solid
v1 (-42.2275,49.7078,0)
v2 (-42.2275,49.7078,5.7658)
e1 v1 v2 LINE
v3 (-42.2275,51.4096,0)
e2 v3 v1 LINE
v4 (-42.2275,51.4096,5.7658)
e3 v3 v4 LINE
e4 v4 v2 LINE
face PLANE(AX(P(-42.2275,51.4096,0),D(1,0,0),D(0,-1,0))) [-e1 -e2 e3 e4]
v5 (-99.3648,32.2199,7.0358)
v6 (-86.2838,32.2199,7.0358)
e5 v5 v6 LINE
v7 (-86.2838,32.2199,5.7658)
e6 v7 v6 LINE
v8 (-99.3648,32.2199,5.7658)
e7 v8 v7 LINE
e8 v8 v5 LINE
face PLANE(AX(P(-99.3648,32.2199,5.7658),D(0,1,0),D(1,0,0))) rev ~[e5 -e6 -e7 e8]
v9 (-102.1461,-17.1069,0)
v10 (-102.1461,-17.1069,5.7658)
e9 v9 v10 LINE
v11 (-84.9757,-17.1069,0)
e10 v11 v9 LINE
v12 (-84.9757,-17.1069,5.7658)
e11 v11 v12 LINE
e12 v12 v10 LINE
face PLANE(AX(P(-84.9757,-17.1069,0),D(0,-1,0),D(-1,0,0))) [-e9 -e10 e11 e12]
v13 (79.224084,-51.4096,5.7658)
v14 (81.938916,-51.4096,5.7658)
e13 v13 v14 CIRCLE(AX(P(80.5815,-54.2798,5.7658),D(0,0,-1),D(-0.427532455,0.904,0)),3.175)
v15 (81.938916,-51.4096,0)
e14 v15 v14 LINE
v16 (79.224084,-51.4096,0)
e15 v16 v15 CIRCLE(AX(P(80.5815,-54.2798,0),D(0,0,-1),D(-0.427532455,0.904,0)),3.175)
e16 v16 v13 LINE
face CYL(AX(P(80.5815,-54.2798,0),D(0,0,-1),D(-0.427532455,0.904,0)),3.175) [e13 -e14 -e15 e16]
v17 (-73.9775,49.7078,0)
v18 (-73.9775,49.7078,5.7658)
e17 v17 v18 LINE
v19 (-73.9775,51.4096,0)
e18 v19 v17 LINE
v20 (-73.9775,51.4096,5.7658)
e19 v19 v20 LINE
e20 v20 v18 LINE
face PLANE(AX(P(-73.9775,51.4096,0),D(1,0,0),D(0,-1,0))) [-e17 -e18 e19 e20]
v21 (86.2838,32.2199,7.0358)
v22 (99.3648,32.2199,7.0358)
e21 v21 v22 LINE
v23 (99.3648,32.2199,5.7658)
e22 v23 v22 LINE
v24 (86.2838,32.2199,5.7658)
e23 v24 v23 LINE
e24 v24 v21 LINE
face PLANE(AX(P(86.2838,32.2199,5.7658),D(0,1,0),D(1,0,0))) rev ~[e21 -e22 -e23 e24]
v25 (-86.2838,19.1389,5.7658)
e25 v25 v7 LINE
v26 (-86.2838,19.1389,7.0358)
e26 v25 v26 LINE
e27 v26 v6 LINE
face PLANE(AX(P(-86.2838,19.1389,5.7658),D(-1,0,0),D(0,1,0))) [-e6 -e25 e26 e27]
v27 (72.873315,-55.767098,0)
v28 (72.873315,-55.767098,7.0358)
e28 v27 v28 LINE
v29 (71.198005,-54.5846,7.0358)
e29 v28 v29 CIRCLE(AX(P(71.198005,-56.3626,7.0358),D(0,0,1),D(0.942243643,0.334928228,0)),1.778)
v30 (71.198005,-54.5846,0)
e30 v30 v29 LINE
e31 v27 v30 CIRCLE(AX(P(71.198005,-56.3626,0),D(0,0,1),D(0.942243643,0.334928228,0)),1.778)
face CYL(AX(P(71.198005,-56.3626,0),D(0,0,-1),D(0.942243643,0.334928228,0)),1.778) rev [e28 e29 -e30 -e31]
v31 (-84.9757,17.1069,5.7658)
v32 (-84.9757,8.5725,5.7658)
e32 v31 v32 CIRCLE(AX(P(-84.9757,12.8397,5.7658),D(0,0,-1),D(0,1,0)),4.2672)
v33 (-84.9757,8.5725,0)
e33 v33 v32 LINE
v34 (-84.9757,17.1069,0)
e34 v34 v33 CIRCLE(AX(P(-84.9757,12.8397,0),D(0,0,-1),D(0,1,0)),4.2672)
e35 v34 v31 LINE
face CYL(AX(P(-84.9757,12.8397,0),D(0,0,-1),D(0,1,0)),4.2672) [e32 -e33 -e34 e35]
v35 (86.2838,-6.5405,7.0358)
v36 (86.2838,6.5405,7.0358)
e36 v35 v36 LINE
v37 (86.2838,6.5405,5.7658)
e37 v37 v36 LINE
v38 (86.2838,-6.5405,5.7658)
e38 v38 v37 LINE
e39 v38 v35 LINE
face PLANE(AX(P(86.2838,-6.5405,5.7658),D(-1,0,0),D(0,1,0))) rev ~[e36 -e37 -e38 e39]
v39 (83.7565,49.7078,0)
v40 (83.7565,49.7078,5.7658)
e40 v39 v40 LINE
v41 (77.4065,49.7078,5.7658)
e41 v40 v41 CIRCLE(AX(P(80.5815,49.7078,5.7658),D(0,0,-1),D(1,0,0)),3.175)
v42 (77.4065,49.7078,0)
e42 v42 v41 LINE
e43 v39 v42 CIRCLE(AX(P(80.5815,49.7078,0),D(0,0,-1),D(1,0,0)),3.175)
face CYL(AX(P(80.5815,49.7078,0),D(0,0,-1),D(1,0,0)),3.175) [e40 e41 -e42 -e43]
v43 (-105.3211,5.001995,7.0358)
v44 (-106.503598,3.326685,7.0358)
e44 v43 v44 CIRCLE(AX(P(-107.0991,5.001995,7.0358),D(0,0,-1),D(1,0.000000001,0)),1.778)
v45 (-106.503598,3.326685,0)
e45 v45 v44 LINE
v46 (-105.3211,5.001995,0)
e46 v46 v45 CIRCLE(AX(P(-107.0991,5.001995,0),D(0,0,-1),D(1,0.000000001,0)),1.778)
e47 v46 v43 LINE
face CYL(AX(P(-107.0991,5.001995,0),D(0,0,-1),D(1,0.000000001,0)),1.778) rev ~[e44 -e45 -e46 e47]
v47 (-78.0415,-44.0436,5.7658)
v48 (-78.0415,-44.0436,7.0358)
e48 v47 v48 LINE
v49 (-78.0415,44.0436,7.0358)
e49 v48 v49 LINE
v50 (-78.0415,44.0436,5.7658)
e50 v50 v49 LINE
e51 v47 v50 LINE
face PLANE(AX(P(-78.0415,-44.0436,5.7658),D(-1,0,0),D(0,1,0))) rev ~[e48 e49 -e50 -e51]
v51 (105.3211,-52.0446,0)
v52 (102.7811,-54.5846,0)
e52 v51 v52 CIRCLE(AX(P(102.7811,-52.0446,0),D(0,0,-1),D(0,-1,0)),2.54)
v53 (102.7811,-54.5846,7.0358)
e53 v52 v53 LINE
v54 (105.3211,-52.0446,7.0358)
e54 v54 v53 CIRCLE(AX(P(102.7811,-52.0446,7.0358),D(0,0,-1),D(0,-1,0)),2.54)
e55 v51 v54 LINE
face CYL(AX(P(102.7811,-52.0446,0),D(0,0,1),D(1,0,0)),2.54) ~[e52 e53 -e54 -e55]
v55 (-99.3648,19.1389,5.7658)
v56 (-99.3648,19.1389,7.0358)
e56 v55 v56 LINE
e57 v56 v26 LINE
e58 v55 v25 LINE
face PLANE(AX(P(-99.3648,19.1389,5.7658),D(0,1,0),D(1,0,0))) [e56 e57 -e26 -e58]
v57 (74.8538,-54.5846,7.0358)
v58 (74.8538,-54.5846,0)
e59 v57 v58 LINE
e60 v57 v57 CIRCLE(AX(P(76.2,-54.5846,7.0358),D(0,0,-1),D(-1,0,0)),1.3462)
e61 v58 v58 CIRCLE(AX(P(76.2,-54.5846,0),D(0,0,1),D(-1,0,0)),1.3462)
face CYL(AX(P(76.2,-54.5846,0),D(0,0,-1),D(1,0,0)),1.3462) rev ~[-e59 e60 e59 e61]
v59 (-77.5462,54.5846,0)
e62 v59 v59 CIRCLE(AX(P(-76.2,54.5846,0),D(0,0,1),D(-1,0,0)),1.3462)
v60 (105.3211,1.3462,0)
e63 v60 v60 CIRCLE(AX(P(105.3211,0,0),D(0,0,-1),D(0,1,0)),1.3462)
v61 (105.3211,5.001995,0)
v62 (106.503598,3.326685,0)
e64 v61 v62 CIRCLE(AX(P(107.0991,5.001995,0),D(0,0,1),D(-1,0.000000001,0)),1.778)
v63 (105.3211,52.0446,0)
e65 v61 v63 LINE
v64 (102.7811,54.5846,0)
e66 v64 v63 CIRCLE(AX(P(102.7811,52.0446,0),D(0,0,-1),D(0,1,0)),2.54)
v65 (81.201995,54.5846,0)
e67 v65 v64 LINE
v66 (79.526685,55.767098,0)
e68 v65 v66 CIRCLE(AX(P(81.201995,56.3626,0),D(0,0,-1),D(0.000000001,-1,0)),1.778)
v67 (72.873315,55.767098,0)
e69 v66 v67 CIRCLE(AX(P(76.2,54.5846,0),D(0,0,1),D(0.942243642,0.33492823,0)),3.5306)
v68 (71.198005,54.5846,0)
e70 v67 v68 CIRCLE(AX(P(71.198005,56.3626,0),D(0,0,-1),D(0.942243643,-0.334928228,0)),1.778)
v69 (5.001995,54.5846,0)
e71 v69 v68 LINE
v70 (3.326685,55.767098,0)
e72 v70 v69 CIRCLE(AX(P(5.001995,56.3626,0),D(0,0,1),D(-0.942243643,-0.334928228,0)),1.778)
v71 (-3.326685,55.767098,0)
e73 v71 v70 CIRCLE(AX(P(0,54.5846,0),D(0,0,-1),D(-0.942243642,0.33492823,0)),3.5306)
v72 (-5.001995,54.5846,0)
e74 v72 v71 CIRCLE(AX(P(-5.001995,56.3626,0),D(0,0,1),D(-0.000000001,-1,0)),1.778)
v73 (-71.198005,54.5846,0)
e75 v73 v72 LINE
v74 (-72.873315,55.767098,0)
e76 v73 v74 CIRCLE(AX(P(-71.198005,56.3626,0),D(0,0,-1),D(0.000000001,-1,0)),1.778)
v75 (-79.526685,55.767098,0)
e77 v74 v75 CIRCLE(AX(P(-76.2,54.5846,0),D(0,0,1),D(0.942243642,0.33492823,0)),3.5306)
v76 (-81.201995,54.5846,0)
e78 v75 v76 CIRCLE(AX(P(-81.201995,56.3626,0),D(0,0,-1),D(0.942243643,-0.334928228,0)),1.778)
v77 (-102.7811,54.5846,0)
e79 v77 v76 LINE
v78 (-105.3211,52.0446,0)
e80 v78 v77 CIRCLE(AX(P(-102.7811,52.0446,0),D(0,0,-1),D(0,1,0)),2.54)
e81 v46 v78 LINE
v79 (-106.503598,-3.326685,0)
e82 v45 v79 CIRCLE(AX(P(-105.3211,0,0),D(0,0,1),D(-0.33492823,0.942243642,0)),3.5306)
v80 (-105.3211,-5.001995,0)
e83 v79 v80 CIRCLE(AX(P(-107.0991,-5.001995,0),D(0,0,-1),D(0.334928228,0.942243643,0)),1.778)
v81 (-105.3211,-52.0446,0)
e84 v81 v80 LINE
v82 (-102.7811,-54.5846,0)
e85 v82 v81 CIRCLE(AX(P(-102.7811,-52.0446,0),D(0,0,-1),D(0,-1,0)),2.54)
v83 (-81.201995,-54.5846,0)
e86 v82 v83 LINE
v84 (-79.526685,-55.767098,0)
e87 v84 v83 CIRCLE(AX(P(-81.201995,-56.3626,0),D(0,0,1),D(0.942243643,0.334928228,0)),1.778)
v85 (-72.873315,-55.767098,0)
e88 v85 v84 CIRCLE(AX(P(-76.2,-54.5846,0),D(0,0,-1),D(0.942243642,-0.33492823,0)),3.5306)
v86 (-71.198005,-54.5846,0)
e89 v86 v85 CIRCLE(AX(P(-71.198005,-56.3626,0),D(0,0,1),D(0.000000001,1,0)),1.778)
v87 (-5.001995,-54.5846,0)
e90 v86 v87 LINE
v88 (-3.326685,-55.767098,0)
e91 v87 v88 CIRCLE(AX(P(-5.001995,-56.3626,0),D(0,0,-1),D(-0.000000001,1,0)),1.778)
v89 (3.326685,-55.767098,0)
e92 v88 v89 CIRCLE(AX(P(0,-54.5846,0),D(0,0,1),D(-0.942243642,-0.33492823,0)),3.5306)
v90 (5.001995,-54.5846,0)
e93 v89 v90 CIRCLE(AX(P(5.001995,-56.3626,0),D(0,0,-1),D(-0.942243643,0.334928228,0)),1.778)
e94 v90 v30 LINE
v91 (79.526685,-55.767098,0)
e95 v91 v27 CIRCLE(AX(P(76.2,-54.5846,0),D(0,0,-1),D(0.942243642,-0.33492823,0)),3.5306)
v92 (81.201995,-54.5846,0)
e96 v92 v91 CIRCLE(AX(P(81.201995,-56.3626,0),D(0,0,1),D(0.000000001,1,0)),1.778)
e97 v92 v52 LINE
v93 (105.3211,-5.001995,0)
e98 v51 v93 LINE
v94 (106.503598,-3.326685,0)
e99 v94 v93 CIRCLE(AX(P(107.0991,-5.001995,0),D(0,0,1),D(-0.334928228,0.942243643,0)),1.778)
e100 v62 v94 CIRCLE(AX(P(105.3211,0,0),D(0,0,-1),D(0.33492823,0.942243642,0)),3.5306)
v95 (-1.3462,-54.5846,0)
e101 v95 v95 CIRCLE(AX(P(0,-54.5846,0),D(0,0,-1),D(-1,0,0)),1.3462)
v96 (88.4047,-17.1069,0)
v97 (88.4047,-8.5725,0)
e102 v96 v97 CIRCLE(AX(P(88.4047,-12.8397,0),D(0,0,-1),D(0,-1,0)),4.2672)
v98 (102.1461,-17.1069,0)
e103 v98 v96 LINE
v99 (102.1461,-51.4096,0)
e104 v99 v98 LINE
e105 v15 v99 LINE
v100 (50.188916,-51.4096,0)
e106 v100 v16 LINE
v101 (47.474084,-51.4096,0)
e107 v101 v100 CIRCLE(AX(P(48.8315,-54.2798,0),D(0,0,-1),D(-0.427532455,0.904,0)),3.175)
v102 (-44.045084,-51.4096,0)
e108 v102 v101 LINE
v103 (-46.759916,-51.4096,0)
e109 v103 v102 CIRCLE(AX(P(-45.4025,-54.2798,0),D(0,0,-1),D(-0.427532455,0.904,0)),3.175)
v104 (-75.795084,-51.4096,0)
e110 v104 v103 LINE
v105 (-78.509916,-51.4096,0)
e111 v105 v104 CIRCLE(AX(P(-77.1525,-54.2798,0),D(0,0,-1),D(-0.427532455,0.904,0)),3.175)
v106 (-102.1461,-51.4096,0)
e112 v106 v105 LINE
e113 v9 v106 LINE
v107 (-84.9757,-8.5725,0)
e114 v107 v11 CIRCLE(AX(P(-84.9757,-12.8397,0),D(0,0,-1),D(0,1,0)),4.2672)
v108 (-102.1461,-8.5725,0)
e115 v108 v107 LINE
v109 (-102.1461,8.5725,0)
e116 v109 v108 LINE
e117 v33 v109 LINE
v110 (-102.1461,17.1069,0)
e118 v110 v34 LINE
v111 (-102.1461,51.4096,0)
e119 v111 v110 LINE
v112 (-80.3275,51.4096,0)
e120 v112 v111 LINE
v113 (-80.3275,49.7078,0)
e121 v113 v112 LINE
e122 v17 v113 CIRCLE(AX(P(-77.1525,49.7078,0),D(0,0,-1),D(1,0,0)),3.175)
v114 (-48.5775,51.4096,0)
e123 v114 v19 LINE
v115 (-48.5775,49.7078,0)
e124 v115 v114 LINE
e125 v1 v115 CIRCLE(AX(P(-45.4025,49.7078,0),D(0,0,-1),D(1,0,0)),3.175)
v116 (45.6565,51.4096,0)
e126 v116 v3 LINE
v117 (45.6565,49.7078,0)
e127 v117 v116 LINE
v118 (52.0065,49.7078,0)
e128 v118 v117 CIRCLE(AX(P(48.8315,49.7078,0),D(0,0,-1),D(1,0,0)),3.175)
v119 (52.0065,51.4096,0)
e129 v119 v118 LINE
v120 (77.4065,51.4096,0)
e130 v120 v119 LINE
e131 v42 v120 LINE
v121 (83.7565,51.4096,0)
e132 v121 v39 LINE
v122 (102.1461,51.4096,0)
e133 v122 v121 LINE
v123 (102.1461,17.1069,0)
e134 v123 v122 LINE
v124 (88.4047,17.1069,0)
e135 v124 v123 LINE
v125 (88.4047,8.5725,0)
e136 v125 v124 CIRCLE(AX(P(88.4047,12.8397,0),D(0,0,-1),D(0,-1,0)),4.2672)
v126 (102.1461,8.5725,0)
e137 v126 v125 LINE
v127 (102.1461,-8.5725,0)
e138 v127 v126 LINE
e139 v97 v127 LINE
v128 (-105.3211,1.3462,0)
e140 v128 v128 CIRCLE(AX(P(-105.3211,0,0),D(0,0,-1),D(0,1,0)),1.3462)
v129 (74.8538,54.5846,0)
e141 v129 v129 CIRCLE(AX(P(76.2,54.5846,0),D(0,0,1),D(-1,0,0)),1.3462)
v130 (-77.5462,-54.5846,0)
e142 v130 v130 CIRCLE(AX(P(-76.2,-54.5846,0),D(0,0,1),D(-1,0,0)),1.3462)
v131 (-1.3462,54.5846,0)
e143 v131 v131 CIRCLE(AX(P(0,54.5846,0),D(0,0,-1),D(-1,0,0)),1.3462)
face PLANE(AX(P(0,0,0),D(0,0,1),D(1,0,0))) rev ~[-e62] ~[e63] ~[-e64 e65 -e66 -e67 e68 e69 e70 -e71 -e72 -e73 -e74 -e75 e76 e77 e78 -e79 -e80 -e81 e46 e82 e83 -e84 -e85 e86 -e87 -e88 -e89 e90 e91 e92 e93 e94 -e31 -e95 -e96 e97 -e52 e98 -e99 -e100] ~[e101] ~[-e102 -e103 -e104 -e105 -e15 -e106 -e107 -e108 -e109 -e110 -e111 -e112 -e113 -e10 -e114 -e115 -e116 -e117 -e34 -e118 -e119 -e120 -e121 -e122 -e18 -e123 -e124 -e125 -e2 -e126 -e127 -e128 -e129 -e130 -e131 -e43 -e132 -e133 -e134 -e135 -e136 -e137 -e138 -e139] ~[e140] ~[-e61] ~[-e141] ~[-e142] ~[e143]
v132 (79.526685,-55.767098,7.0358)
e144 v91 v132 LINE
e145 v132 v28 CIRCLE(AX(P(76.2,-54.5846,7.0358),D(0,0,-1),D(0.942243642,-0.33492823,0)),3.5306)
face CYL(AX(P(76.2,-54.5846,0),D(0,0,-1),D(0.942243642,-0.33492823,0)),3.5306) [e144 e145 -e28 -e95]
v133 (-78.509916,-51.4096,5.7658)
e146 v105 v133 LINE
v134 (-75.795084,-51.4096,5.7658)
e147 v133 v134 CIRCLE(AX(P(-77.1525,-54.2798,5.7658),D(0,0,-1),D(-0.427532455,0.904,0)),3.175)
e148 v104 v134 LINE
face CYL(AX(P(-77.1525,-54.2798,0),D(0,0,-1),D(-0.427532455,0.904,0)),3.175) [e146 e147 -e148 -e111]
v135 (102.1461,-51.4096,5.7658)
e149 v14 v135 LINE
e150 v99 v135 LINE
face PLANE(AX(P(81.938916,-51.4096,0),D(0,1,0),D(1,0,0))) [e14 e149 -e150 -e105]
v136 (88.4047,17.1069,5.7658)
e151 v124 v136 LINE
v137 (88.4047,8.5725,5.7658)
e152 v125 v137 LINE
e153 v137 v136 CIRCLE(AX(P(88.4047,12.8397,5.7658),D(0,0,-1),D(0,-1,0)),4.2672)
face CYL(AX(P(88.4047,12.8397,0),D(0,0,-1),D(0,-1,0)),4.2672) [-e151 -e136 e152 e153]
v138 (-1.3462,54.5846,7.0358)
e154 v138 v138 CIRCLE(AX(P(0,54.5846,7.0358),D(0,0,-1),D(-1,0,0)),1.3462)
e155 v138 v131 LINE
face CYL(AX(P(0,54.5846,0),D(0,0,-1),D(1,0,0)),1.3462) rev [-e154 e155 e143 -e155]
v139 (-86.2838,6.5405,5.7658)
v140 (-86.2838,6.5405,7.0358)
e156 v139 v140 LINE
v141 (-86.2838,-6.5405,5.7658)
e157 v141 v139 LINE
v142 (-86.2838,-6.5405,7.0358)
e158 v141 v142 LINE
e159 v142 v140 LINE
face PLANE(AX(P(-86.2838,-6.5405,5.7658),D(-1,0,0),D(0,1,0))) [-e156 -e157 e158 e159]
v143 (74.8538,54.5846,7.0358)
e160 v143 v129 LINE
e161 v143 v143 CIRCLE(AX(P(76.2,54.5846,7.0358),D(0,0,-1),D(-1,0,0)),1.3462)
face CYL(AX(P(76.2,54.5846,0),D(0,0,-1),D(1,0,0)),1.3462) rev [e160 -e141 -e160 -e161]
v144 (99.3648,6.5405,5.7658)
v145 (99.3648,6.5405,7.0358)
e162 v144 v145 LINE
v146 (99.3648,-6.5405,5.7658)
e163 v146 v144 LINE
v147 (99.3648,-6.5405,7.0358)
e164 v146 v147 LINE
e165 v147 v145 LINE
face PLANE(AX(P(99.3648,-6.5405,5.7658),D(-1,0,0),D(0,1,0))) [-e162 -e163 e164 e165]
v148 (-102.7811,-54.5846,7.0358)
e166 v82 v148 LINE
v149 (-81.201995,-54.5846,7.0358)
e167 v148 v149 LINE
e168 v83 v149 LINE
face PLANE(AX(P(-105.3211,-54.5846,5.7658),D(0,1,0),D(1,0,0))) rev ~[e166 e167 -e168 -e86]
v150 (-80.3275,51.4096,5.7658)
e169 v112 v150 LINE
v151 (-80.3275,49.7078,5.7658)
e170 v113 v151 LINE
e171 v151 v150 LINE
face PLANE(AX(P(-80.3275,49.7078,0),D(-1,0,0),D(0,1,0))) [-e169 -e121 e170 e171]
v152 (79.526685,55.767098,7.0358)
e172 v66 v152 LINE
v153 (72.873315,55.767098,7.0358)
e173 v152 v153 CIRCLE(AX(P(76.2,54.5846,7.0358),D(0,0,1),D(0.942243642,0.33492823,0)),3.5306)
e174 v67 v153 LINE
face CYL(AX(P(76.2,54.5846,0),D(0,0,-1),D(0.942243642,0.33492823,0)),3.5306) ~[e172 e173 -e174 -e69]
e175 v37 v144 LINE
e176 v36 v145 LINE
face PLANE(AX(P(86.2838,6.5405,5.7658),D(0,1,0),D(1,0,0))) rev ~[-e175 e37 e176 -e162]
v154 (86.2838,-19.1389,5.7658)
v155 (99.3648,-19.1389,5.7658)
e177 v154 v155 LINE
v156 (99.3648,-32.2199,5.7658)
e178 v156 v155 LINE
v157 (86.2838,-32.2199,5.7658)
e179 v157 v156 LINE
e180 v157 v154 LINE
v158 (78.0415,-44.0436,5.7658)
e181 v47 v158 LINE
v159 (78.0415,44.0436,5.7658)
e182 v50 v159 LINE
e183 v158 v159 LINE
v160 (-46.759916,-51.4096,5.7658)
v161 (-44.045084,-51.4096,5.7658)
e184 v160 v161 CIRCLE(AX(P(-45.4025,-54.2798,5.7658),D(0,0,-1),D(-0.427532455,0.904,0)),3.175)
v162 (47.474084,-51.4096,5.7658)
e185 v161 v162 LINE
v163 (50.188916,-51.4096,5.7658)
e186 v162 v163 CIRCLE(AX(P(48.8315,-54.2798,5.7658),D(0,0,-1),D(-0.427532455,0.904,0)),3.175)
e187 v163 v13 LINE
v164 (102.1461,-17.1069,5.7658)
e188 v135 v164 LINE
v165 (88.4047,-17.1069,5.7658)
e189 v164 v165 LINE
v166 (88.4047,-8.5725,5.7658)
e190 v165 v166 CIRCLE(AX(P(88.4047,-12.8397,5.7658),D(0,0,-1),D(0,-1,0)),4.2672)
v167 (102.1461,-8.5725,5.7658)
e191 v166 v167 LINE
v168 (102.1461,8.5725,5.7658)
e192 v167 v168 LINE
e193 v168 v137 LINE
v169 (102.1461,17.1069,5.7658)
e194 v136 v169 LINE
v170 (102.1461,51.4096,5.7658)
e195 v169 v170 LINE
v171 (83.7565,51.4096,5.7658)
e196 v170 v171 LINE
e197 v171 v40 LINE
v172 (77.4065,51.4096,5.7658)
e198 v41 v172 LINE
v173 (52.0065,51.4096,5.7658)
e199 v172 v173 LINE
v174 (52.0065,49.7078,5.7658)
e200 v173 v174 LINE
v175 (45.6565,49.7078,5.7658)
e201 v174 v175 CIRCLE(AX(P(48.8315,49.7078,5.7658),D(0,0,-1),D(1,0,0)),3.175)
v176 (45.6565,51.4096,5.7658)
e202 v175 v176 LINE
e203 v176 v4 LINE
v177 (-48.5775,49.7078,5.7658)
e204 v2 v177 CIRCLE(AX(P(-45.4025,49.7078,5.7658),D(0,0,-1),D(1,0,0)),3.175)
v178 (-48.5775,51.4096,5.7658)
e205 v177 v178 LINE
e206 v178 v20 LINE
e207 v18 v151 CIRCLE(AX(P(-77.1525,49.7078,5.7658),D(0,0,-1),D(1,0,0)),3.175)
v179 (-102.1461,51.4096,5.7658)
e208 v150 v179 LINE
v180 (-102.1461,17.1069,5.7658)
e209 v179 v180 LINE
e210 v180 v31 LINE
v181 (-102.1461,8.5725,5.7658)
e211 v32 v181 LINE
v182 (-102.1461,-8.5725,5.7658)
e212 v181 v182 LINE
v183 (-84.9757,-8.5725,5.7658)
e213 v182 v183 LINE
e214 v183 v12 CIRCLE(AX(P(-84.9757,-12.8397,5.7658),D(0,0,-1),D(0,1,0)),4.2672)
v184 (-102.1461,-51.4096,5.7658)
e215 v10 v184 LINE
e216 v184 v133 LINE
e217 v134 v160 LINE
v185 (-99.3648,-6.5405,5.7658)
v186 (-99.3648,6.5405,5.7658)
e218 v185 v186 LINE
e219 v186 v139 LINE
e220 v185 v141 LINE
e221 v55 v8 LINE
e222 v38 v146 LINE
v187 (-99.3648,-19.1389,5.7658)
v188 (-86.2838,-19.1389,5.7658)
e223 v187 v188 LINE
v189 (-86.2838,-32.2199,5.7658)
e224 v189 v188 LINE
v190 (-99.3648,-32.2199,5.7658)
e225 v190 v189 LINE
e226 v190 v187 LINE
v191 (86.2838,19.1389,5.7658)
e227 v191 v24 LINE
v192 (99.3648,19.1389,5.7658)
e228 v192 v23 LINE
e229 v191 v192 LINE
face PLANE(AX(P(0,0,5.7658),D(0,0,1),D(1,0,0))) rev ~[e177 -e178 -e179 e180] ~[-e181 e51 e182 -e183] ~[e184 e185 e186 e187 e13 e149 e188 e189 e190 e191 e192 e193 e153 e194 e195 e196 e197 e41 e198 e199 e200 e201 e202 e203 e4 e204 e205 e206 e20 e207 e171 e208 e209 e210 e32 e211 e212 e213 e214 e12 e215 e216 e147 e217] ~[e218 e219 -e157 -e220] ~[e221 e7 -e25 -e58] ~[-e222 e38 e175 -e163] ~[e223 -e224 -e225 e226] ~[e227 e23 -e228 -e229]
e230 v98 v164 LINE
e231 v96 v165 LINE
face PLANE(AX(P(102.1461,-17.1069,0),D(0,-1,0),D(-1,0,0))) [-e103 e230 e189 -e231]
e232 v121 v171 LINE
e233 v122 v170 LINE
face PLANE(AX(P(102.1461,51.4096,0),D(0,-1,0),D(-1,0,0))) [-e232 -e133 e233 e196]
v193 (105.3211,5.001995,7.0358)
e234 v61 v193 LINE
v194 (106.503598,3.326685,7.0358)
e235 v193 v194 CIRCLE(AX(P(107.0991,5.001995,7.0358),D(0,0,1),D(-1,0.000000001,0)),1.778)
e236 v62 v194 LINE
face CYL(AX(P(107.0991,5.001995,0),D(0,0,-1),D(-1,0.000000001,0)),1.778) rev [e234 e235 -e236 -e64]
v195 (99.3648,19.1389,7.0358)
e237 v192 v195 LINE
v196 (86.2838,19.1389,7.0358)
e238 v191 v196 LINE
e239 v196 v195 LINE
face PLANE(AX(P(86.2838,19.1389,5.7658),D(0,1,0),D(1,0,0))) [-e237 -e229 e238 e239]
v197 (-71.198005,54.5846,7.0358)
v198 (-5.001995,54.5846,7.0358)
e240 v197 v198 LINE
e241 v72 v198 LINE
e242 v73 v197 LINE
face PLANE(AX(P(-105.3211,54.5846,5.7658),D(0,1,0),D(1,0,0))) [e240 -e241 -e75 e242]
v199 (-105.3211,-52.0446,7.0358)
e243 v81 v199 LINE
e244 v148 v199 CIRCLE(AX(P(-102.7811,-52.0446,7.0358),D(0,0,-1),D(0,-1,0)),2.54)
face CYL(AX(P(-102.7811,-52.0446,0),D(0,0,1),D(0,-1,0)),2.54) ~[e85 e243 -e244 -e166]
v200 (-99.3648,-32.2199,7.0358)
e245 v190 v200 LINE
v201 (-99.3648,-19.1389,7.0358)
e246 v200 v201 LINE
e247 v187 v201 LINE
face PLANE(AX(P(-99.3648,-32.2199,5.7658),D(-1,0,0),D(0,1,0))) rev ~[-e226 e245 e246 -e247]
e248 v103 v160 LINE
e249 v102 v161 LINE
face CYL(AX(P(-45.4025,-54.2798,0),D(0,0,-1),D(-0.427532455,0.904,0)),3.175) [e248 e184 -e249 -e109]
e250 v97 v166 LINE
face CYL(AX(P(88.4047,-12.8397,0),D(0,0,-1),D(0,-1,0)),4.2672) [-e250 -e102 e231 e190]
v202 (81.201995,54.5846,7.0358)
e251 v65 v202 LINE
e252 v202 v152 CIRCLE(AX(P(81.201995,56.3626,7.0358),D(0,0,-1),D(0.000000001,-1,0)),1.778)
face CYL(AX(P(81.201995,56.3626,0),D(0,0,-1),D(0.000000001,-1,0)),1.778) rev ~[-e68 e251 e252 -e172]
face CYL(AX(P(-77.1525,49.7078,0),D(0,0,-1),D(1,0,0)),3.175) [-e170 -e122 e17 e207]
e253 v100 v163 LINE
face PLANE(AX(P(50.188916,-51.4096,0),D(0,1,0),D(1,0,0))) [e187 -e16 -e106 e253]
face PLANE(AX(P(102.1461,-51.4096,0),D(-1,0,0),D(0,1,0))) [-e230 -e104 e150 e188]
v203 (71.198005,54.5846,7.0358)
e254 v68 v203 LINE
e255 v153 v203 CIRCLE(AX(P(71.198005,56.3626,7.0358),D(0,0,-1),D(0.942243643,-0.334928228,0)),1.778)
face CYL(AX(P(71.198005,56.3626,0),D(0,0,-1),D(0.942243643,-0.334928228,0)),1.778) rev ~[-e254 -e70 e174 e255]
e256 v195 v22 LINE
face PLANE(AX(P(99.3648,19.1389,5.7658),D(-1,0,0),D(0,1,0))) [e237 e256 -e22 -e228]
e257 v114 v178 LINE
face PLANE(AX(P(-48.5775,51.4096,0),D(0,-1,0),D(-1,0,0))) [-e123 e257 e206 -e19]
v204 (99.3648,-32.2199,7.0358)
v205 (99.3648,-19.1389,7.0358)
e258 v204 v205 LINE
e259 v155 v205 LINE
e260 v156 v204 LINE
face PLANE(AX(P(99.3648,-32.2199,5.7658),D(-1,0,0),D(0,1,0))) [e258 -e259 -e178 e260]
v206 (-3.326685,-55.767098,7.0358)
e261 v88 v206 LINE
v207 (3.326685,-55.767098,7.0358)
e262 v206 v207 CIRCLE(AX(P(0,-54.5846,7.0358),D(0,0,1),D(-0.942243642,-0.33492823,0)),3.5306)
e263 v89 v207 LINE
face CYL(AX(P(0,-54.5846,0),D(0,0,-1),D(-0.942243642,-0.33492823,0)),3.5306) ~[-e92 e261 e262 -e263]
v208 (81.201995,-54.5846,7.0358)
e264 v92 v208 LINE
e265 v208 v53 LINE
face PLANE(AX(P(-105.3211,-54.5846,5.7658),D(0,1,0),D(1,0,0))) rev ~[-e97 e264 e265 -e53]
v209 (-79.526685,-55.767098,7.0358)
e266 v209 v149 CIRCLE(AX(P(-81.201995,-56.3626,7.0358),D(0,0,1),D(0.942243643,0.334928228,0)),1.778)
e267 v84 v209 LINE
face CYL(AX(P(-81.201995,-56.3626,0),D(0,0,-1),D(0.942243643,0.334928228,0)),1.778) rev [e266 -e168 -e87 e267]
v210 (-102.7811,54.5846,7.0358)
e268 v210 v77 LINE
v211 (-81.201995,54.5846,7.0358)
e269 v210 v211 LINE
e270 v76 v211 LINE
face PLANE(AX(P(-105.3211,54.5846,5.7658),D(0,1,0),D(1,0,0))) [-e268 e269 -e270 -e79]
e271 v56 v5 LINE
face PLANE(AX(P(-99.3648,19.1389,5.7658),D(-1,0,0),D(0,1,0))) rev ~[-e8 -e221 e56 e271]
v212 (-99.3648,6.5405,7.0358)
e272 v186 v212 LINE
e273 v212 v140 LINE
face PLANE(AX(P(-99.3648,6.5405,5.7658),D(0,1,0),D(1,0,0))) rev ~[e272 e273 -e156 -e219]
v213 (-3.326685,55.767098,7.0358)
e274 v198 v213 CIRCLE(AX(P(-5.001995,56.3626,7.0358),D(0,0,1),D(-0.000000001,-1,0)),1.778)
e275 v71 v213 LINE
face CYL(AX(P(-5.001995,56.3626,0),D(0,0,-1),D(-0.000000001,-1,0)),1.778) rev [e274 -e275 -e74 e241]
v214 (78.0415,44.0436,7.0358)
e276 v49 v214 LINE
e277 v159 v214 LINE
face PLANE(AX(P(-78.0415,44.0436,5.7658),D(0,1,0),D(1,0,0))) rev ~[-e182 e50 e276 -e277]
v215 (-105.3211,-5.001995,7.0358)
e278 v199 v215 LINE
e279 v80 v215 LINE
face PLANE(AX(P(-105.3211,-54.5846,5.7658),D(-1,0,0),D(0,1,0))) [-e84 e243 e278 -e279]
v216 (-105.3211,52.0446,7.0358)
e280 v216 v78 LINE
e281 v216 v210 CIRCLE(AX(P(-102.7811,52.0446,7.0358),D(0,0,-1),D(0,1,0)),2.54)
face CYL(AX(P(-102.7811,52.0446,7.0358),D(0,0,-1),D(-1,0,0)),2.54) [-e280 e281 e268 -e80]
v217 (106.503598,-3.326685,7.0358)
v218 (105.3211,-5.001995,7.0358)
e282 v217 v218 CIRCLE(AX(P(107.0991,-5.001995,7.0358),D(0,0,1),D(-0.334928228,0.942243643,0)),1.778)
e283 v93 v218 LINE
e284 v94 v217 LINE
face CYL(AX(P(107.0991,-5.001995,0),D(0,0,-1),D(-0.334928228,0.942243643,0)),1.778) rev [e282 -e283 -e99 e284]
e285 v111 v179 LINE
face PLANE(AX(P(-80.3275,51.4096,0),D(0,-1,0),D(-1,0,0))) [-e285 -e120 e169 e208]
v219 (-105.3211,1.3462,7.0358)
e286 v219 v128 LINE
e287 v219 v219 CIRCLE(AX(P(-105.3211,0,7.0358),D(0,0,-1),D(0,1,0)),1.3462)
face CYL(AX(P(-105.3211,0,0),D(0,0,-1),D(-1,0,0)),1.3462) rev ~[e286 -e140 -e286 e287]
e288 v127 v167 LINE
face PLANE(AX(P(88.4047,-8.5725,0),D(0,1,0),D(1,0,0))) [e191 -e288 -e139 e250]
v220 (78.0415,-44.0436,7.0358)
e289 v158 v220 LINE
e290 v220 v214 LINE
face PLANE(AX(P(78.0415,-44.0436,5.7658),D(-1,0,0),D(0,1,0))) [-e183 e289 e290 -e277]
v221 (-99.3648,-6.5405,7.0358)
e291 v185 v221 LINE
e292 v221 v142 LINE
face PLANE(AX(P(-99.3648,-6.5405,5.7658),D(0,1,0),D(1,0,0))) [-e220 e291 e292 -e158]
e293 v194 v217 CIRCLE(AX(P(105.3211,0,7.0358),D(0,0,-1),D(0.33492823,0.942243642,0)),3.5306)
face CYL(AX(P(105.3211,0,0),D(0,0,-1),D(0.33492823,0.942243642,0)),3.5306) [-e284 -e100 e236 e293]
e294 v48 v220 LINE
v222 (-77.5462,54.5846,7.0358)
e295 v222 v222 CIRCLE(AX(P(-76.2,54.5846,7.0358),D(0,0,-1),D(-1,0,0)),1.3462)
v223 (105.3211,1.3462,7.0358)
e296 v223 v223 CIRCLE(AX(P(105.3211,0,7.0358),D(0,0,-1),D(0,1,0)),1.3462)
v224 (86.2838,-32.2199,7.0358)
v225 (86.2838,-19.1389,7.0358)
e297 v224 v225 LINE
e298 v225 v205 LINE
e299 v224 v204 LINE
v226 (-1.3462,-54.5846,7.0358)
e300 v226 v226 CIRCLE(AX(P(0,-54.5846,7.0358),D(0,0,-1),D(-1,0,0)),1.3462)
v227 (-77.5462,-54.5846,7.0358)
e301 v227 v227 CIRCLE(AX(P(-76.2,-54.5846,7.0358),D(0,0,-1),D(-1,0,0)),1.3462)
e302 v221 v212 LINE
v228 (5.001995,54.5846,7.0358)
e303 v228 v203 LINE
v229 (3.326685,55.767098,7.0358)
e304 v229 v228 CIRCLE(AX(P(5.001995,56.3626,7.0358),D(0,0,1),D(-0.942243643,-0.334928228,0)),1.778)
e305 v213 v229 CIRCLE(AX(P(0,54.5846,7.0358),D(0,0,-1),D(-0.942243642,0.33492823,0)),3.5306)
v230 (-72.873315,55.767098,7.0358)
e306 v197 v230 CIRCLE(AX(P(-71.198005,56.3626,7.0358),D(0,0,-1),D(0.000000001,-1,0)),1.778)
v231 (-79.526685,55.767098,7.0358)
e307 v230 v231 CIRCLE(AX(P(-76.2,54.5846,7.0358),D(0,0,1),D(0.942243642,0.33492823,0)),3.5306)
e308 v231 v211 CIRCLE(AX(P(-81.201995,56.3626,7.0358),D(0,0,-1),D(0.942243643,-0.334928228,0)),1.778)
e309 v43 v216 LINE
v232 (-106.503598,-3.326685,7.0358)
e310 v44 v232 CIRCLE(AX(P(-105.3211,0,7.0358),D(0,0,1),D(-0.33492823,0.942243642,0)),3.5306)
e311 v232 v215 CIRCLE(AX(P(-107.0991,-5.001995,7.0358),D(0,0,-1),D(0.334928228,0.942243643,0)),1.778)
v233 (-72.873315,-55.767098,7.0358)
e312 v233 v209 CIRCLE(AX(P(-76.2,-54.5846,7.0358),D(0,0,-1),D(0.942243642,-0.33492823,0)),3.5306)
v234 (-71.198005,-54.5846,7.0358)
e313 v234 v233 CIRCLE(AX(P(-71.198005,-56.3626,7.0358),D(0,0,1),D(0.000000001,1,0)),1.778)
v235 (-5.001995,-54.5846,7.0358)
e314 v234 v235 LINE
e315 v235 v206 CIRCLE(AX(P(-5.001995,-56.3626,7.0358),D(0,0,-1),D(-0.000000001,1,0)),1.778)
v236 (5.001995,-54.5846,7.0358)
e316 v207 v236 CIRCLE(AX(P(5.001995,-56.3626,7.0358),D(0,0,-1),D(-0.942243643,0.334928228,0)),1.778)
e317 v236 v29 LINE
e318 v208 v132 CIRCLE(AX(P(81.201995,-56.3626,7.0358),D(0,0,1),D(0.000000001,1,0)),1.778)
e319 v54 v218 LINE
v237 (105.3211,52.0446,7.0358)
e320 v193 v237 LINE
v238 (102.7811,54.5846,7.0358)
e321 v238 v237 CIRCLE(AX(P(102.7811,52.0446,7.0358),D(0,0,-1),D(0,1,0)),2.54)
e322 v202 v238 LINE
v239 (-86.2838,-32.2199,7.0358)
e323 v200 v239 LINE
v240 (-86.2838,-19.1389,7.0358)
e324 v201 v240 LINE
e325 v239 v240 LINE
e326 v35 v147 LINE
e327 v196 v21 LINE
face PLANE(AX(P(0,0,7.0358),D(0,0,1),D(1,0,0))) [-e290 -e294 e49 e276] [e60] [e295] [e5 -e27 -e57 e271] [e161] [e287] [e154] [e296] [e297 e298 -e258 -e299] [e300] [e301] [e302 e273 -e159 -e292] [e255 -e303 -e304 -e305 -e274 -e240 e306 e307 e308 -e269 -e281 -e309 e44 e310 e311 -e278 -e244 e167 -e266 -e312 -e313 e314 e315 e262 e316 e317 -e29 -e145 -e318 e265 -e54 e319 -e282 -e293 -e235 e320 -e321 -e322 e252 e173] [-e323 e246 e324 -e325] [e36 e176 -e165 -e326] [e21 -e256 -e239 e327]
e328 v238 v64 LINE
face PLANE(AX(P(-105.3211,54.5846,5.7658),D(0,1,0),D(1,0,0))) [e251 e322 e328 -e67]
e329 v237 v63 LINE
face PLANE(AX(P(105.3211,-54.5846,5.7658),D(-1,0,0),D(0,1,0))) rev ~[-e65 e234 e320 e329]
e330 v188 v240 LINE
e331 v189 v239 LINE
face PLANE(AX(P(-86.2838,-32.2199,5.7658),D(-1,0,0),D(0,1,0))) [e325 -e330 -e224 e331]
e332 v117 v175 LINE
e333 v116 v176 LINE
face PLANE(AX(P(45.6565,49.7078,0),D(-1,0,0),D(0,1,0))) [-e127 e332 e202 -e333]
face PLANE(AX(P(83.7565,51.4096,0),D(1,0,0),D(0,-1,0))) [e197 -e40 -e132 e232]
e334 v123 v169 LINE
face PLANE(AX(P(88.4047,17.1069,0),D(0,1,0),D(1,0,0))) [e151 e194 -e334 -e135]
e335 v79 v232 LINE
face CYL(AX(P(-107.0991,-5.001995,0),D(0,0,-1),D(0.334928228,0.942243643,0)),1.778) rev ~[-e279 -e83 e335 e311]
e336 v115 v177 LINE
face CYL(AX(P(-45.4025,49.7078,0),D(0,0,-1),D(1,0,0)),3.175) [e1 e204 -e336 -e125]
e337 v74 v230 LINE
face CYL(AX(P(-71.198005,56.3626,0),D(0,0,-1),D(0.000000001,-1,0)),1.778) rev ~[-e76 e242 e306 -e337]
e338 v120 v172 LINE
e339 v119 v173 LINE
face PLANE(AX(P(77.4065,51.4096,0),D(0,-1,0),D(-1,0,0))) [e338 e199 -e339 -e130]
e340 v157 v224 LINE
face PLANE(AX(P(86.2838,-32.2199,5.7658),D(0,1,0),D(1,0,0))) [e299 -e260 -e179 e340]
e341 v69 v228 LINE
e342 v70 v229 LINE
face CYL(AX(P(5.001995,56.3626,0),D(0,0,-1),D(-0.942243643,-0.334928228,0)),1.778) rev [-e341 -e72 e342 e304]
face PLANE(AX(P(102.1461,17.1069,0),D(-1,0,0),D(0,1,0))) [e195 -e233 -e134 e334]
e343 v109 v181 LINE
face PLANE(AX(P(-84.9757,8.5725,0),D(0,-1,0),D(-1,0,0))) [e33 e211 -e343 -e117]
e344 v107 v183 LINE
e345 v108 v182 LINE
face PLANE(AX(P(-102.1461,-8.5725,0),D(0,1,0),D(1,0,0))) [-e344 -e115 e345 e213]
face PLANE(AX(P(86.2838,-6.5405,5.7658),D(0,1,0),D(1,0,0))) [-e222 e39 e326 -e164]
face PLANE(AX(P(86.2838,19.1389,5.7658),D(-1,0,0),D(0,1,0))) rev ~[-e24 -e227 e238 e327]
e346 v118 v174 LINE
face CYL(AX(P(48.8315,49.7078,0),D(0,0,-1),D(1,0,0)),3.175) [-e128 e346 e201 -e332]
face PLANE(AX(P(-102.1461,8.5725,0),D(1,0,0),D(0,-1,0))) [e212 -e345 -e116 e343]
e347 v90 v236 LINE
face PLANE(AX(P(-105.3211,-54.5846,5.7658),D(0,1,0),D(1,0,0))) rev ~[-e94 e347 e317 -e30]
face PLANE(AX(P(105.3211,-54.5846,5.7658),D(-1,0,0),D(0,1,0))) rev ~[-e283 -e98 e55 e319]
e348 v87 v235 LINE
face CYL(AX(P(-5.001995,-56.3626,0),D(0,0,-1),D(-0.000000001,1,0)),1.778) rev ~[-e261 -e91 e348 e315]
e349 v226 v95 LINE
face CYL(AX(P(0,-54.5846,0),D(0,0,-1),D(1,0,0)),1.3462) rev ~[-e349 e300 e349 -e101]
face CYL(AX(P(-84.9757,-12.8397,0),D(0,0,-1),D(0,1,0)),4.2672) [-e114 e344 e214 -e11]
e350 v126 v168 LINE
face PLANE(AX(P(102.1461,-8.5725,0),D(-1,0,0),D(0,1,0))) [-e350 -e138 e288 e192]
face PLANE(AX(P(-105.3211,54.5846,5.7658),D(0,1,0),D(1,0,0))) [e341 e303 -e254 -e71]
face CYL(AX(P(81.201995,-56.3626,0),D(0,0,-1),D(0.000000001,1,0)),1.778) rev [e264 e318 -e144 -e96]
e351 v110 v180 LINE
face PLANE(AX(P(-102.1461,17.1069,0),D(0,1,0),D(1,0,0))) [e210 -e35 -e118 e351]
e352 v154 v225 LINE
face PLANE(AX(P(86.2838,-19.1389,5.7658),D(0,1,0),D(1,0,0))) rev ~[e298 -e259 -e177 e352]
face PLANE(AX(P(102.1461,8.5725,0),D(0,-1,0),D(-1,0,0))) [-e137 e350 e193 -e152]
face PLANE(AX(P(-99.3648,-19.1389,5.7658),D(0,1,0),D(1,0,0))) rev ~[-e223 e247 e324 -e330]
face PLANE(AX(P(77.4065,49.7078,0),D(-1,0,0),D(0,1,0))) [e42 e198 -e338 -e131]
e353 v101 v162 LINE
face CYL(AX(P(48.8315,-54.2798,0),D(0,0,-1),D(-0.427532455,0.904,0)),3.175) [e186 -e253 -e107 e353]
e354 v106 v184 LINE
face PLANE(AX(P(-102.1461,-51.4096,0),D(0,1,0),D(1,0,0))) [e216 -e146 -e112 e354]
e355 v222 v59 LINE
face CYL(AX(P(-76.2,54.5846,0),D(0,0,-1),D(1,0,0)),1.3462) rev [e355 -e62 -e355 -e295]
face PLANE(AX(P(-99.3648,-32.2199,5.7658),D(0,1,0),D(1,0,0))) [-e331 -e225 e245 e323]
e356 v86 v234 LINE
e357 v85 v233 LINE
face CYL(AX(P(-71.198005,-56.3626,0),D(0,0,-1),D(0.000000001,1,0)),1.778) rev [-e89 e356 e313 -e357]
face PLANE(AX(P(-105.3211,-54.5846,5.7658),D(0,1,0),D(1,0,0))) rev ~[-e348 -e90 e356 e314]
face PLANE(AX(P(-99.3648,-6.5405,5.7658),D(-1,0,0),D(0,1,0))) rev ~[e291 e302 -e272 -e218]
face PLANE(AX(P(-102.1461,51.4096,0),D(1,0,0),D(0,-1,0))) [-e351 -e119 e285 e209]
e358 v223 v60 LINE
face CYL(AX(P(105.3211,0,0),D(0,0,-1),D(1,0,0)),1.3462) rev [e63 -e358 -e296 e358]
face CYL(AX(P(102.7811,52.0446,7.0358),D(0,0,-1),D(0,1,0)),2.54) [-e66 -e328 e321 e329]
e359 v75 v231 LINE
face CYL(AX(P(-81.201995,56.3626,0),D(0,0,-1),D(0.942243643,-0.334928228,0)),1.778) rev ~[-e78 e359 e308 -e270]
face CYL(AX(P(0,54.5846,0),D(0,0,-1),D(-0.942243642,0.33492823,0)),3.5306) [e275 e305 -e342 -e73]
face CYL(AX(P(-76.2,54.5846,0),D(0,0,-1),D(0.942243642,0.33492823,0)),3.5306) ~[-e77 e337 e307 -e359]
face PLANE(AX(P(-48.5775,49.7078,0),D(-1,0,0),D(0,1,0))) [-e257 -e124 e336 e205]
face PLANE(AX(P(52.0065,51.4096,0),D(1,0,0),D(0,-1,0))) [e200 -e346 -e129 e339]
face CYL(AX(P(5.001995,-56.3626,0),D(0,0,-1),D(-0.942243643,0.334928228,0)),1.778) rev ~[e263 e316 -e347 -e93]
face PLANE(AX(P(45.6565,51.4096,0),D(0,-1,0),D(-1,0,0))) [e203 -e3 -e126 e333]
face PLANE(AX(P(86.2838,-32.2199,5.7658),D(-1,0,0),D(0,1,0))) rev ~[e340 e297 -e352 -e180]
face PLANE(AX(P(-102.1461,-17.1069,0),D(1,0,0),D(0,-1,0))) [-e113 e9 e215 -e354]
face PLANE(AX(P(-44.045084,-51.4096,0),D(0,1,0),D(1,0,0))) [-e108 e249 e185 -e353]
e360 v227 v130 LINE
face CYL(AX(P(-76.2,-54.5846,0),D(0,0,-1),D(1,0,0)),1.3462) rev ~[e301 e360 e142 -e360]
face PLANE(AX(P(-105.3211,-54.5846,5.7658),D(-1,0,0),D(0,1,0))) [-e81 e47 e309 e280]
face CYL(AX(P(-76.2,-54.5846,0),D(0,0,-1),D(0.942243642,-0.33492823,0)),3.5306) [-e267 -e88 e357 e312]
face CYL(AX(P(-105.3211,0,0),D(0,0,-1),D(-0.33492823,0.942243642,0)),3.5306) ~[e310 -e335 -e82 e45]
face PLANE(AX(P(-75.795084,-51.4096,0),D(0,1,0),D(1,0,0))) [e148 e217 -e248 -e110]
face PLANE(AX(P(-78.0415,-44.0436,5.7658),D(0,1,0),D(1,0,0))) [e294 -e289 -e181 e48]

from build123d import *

# Parameters (mm, degrees)
SKETCH1_W           = 210.6422
SKETCH1_H           = 109.1692
BOSS_EXTRUDE1_DEPTH = 5.7658
SKETCH2_W           = 210.6422
SKETCH2_H           = 109.1692
SKETCH2_W_2         = 13.081
SKETCH2_H_2         = 13.081
SKETCH2_W_3         = 156.083
SKETCH2_H_3         = 88.0872
BOSS_EXTRUDE2_DEPTH = 1.27
CUT_EXTRUDE1_REACH  = 120.834
SKETCH3_R           = 1.3462
SKETCH3_3_R         = 1.3462
BOSS_EXTRUDE3_DEPTH = 7.0358
FILLET1_R           = 2.54
CUT_EXTRUDE2_REACH  = 122.497
SKETCH4_R           = 1.3462
SKETCH4_3_R         = 1.3462
BOSS_EXTRUDE4_DEPTH = 7.0358


with BuildPart() as part:
    # Sketch1 → Boss-Extrude1 (new body)
    with BuildSketch(Plane.XY):
        Rectangle(SKETCH1_W, SKETCH1_H)
        with BuildLine():
            Line((45.6565, 49.7078), (45.6565, 51.4096))
            Line((45.6565, 51.4096), (-42.2275, 51.4096))
            Line((-42.2275, 51.4096), (-42.2275, 49.7078))
            ThreePointArc((-42.2275, 49.7078), (-45.4025, 46.5328), (-48.5775, 49.7078))
            Line((-48.5775, 49.7078), (-48.5775, 51.4096))
            Line((-48.5775, 51.4096), (-73.9775, 51.4096))
            Line((-73.9775, 51.4096), (-73.9775, 49.7078))
            ThreePointArc((-73.9775, 49.7078), (-77.1525, 46.5328), (-80.3275, 49.7078))
            Line((-80.3275, 49.7078), (-80.3275, 51.4096))
            Line((-80.3275, 51.4096), (-102.1461, 51.4096))
            Line((-102.1461, 51.4096), (-102.1461, 17.1069))
            Line((-102.1461, 17.1069), (-84.9757, 17.1069))
            ThreePointArc((-84.9757, 17.1069), (-80.7085, 12.8397), (-84.9757, 8.5725))
            Line((-84.9757, 8.5725), (-102.1461, 8.5725))
            Line((-102.1461, 8.5725), (-102.1461, -8.5725))
            Line((-102.1461, -8.5725), (-84.9757, -8.5725))
            ThreePointArc((-84.9757, -8.5725), (-80.7085, -12.8397), (-84.9757, -17.1069))
            Line((-84.9757, -17.1069), (-102.1461, -17.1069))
            Line((-102.1461, -17.1069), (-102.1461, -51.4096))
            Line((-102.1461, -51.4096), (-78.509915544, -51.4096))
            ThreePointArc((-78.509915544, -51.4096), (-77.1525, -51.1048), (-75.795084456, -51.4096))
            Line((-75.795084456, -51.4096), (-46.759915544, -51.4096))
            ThreePointArc((-46.759915544, -51.4096), (-45.4025, -51.1048), (-44.045084456, -51.4096))
            Line((-44.045084456, -51.4096), (47.474084456, -51.4096))
            ThreePointArc((47.474084456, -51.4096), (48.8315, -51.1048), (50.188915544, -51.4096))
            Line((50.188915544, -51.4096), (79.224084456, -51.4096))
            ThreePointArc((79.224084456, -51.4096), (80.5815, -51.1048), (81.938915544, -51.4096))
            Line((81.938915544, -51.4096), (102.1461, -51.4096))
            Line((102.1461, -51.4096), (102.1461, -17.1069))
            Line((102.1461, -17.1069), (88.4047, -17.1069))
            ThreePointArc((88.4047, -17.1069), (84.1375, -12.8397), (88.4047, -8.5725))
            Line((88.4047, -8.5725), (102.1461, -8.5725))
            Line((102.1461, -8.5725), (102.1461, 8.5725))
            Line((102.1461, 8.5725), (88.4047, 8.5725))
            ThreePointArc((88.4047, 8.5725), (84.1375, 12.8397), (88.4047, 17.1069))
            Line((88.4047, 17.1069), (102.1461, 17.1069))
            Line((102.1461, 17.1069), (102.1461, 51.4096))
            Line((102.1461, 51.4096), (83.7565, 51.4096))
            Line((83.7565, 51.4096), (83.7565, 49.7078))
            ThreePointArc((83.7565, 49.7078), (80.5815, 46.5328), (77.4065, 49.7078))
            Line((77.4065, 49.7078), (77.4065, 51.4096))
            Line((77.4065, 51.4096), (52.0065, 51.4096))
            Line((52.0065, 51.4096), (52.0065, 49.7078))
            ThreePointArc((52.0065, 49.7078), (48.8315, 46.5328), (45.6565, 49.7078))
        make_face(mode=Mode.SUBTRACT)
    extrude(amount=BOSS_EXTRUDE1_DEPTH)

    # Sketch2 → Boss-Extrude2 (add)
    with BuildSketch(Plane.XY.offset(5.7658)):
        Rectangle(SKETCH2_W, SKETCH2_H)
        with Locations((92.8243, 25.6794)):
            Rectangle(SKETCH2_W_2, SKETCH2_H_2, mode=Mode.SUBTRACT)
        with Locations((92.8243, 0)):
            Rectangle(SKETCH2_W_2, SKETCH2_H_2, mode=Mode.SUBTRACT)
        with Locations((92.8243, -25.6794)):
            Rectangle(SKETCH2_W_2, SKETCH2_H_2, mode=Mode.SUBTRACT)
        with Locations((-92.8243, -25.6794)):
            Rectangle(SKETCH2_W_2, SKETCH2_H_2, mode=Mode.SUBTRACT)
        Rectangle(SKETCH2_W_3, SKETCH2_H_3, mode=Mode.SUBTRACT)
        with Locations((-92.8243, 0)):
            Rectangle(SKETCH2_W_2, SKETCH2_H_2, mode=Mode.SUBTRACT)
        with Locations((-92.8243, 25.6794)):
            Rectangle(SKETCH2_W_2, SKETCH2_H_2, mode=Mode.SUBTRACT)
    extrude(amount=BOSS_EXTRUDE2_DEPTH)

    # Sketch3 → Cut-Extrude1 (cut, up to next)
    with BuildSketch(Plane.XY, mode=Mode.PRIVATE) as cut_extrude1_sk1:
        with Locations((0, 54.5846)):
            Circle(SKETCH3_R)
    cut_extrude1_tool1 = extrude(cut_extrude1_sk1.sketch, amount=CUT_EXTRUDE1_REACH, mode=Mode.PRIVATE) & part.part
    # Sketch3 → Cut-Extrude1 (cut, up to next)
    with BuildSketch(Plane.XY, mode=Mode.PRIVATE) as cut_extrude1_sk2:
        with Locations((76.2, 54.5846)):
            Circle(SKETCH3_R)
    cut_extrude1_tool2 = extrude(cut_extrude1_sk2.sketch, amount=CUT_EXTRUDE1_REACH, mode=Mode.PRIVATE) & part.part
    # Sketch3 → Cut-Extrude1 (cut, up to next)
    with BuildSketch(Plane.XY, mode=Mode.PRIVATE) as cut_extrude1_sk3:
        with Locations((-76.2, 54.5846)):
            Circle(SKETCH3_R)
    cut_extrude1_tool3 = extrude(cut_extrude1_sk3.sketch, amount=CUT_EXTRUDE1_REACH, mode=Mode.PRIVATE) & part.part
    cut_extrude1_1 = cut_extrude1_tool1.solids().sort_by_distance((0, 54.5846, 0))[0]
    add(cut_extrude1_1, mode=Mode.SUBTRACT)
    cut_extrude1_2 = cut_extrude1_tool2.solids().sort_by_distance((76.2, 54.5846, 0))[0]
    add(cut_extrude1_2, mode=Mode.SUBTRACT)
    cut_extrude1_3 = cut_extrude1_tool3.solids().sort_by_distance((-76.2, 54.5846, 0))[0]
    add(cut_extrude1_3, mode=Mode.SUBTRACT)
    cut_extrude1 = cut_extrude1_1 + cut_extrude1_2 + cut_extrude1_3  # Cut-Extrude1 as one shape, for the pattern or mirror that repeats it

    # Sketch3<3> → Boss-Extrude3 (add)
    # profile 1 of 3: a face of its own
    with BuildSketch(Plane.XY):
        with BuildLine():
            Line((5.001994598, 54.5846), (5.001994598, 52.2986))
            Line((5.001994598, 52.2986), (-5.001994598, 52.2986))
            Line((-5.001994598, 52.2986), (-5.001994598, 54.5846))
            ThreePointArc((-5.001994598, 54.5846), (-3.97669446, 54.910001078), (-3.326685403, 55.767097608))
            ThreePointArc((-3.326685403, 55.767097608), (0, 58.1152), (3.326685403, 55.767097608))
            ThreePointArc((3.326685403, 55.767097608), (3.97669446, 54.910001078), (5.001994598, 54.5846))
        make_face()
        with Locations(Location((0, 54.5846, 0), (0, 0, 180))):
            Circle(SKETCH3_3_R, mode=Mode.SUBTRACT)
    # profile 2 of 3: a face of its own
    with BuildSketch(Plane.XY):
        with BuildLine():
            Line((-81.201994598, 54.5846), (-81.201994598, 52.2986))
            Line((-81.201994598, 52.2986), (-71.198005402, 52.2986))
            Line((-71.198005402, 52.2986), (-71.198005402, 54.5846))
            ThreePointArc((-71.198005402, 54.5846), (-72.22330554, 54.910001078), (-72.873314597, 55.767097608))
            ThreePointArc((-72.873314597, 55.767097608), (-76.2, 58.1152), (-79.526685403, 55.767097608))
            ThreePointArc((-79.526685403, 55.767097608), (-80.17669446, 54.910001078), (-81.201994598, 54.5846))
        make_face()
        with Locations(Location((-76.2, 54.5846, 0), (0, 0, 180))):
            Circle(SKETCH3_3_R, mode=Mode.SUBTRACT)
    # profile 3 of 3: a face of its own
    with BuildSketch(Plane.XY):
        with BuildLine():
            Line((71.198005402, 54.5846), (71.198005402, 52.2986))
            Line((71.198005402, 52.2986), (81.201994598, 52.2986))
            Line((81.201994598, 52.2986), (81.201994598, 54.5846))
            ThreePointArc((81.201994598, 54.5846), (80.17669446, 54.910001078), (79.526685403, 55.767097608))
            ThreePointArc((79.526685403, 55.767097608), (76.2, 58.1152), (72.873314597, 55.767097608))
            ThreePointArc((72.873314597, 55.767097608), (72.22330554, 54.910001078), (71.198005402, 54.5846))
        make_face()
        with Locations(Location((76.2, 54.5846, 0), (0, 0, 180))):
            Circle(SKETCH3_3_R, mode=Mode.SUBTRACT)
    boss_extrude3 = extrude(amount=BOSS_EXTRUDE3_DEPTH)

    # Mirror1: Cut-Extrude1, Boss-Extrude3 across plane
    add(cut_extrude1.mirror(Plane.ZX), mode=Mode.SUBTRACT)
    add(boss_extrude3.mirror(Plane.ZX))

    # Fillet1
    fillet1_edges = [part.edges().sort_by_distance(p)[0] for p in [
        (-105.3211, 54.5846, 3.5179),
        (105.3211, 54.5846, 3.5179),
        (105.3211, -54.5846, 3.5179),
        (-105.3211, -54.5846, 3.5179),
    ]]
    fillet(fillet1_edges, radius=FILLET1_R)

    # Sketch4 → Cut-Extrude2 (cut, up to next)
    with BuildSketch(Plane.XY, mode=Mode.PRIVATE) as cut_extrude2_sk1:
        with Locations((105.3211, 0)):
            Circle(SKETCH4_R)
    cut_extrude2_tool1 = extrude(cut_extrude2_sk1.sketch, amount=CUT_EXTRUDE2_REACH, mode=Mode.PRIVATE) & part.part
    cut_extrude2 = cut_extrude2_tool1.solids().sort_by_distance((105.3211, 0, 0))[0]
    add(cut_extrude2, mode=Mode.SUBTRACT)

    # Sketch4<3> → Boss-Extrude4 (add)
    with BuildSketch(Plane.XY):
        with BuildLine():
            Line((105.3211, -5.001994598), (103.0351, -5.001994598))
            Line((103.0351, -5.001994598), (103.0351, 5.001994598))
            Line((103.0351, 5.001994598), (105.3211, 5.001994598))
            ThreePointArc((105.3211, 5.001994598), (105.646501078, 3.97669446), (106.503597608, 3.326685403))
            ThreePointArc((106.503597608, 3.326685403), (108.8517, 0), (106.503597608, -3.326685403))
            ThreePointArc((106.503597608, -3.326685403), (105.646501078, -3.97669446), (105.3211, -5.001994598))
        make_face()
        with Locations(Location((105.3211, 0, 0), (0, 0, 180))):
            Circle(SKETCH4_3_R, mode=Mode.SUBTRACT)
    boss_extrude4 = extrude(amount=BOSS_EXTRUDE4_DEPTH)

    # Mirror2: Cut-Extrude2, Boss-Extrude4 across plane
    add(cut_extrude2.mirror(Plane(origin=(0, 0, 0), x_dir=(0, 0, 1), z_dir=(1, 0, 0))), mode=Mode.SUBTRACT)
    add(boss_extrude4.mirror(Plane(origin=(0, 0, 0), x_dir=(0, 0, 1), z_dir=(1, 0, 0))))


solid = part.part
